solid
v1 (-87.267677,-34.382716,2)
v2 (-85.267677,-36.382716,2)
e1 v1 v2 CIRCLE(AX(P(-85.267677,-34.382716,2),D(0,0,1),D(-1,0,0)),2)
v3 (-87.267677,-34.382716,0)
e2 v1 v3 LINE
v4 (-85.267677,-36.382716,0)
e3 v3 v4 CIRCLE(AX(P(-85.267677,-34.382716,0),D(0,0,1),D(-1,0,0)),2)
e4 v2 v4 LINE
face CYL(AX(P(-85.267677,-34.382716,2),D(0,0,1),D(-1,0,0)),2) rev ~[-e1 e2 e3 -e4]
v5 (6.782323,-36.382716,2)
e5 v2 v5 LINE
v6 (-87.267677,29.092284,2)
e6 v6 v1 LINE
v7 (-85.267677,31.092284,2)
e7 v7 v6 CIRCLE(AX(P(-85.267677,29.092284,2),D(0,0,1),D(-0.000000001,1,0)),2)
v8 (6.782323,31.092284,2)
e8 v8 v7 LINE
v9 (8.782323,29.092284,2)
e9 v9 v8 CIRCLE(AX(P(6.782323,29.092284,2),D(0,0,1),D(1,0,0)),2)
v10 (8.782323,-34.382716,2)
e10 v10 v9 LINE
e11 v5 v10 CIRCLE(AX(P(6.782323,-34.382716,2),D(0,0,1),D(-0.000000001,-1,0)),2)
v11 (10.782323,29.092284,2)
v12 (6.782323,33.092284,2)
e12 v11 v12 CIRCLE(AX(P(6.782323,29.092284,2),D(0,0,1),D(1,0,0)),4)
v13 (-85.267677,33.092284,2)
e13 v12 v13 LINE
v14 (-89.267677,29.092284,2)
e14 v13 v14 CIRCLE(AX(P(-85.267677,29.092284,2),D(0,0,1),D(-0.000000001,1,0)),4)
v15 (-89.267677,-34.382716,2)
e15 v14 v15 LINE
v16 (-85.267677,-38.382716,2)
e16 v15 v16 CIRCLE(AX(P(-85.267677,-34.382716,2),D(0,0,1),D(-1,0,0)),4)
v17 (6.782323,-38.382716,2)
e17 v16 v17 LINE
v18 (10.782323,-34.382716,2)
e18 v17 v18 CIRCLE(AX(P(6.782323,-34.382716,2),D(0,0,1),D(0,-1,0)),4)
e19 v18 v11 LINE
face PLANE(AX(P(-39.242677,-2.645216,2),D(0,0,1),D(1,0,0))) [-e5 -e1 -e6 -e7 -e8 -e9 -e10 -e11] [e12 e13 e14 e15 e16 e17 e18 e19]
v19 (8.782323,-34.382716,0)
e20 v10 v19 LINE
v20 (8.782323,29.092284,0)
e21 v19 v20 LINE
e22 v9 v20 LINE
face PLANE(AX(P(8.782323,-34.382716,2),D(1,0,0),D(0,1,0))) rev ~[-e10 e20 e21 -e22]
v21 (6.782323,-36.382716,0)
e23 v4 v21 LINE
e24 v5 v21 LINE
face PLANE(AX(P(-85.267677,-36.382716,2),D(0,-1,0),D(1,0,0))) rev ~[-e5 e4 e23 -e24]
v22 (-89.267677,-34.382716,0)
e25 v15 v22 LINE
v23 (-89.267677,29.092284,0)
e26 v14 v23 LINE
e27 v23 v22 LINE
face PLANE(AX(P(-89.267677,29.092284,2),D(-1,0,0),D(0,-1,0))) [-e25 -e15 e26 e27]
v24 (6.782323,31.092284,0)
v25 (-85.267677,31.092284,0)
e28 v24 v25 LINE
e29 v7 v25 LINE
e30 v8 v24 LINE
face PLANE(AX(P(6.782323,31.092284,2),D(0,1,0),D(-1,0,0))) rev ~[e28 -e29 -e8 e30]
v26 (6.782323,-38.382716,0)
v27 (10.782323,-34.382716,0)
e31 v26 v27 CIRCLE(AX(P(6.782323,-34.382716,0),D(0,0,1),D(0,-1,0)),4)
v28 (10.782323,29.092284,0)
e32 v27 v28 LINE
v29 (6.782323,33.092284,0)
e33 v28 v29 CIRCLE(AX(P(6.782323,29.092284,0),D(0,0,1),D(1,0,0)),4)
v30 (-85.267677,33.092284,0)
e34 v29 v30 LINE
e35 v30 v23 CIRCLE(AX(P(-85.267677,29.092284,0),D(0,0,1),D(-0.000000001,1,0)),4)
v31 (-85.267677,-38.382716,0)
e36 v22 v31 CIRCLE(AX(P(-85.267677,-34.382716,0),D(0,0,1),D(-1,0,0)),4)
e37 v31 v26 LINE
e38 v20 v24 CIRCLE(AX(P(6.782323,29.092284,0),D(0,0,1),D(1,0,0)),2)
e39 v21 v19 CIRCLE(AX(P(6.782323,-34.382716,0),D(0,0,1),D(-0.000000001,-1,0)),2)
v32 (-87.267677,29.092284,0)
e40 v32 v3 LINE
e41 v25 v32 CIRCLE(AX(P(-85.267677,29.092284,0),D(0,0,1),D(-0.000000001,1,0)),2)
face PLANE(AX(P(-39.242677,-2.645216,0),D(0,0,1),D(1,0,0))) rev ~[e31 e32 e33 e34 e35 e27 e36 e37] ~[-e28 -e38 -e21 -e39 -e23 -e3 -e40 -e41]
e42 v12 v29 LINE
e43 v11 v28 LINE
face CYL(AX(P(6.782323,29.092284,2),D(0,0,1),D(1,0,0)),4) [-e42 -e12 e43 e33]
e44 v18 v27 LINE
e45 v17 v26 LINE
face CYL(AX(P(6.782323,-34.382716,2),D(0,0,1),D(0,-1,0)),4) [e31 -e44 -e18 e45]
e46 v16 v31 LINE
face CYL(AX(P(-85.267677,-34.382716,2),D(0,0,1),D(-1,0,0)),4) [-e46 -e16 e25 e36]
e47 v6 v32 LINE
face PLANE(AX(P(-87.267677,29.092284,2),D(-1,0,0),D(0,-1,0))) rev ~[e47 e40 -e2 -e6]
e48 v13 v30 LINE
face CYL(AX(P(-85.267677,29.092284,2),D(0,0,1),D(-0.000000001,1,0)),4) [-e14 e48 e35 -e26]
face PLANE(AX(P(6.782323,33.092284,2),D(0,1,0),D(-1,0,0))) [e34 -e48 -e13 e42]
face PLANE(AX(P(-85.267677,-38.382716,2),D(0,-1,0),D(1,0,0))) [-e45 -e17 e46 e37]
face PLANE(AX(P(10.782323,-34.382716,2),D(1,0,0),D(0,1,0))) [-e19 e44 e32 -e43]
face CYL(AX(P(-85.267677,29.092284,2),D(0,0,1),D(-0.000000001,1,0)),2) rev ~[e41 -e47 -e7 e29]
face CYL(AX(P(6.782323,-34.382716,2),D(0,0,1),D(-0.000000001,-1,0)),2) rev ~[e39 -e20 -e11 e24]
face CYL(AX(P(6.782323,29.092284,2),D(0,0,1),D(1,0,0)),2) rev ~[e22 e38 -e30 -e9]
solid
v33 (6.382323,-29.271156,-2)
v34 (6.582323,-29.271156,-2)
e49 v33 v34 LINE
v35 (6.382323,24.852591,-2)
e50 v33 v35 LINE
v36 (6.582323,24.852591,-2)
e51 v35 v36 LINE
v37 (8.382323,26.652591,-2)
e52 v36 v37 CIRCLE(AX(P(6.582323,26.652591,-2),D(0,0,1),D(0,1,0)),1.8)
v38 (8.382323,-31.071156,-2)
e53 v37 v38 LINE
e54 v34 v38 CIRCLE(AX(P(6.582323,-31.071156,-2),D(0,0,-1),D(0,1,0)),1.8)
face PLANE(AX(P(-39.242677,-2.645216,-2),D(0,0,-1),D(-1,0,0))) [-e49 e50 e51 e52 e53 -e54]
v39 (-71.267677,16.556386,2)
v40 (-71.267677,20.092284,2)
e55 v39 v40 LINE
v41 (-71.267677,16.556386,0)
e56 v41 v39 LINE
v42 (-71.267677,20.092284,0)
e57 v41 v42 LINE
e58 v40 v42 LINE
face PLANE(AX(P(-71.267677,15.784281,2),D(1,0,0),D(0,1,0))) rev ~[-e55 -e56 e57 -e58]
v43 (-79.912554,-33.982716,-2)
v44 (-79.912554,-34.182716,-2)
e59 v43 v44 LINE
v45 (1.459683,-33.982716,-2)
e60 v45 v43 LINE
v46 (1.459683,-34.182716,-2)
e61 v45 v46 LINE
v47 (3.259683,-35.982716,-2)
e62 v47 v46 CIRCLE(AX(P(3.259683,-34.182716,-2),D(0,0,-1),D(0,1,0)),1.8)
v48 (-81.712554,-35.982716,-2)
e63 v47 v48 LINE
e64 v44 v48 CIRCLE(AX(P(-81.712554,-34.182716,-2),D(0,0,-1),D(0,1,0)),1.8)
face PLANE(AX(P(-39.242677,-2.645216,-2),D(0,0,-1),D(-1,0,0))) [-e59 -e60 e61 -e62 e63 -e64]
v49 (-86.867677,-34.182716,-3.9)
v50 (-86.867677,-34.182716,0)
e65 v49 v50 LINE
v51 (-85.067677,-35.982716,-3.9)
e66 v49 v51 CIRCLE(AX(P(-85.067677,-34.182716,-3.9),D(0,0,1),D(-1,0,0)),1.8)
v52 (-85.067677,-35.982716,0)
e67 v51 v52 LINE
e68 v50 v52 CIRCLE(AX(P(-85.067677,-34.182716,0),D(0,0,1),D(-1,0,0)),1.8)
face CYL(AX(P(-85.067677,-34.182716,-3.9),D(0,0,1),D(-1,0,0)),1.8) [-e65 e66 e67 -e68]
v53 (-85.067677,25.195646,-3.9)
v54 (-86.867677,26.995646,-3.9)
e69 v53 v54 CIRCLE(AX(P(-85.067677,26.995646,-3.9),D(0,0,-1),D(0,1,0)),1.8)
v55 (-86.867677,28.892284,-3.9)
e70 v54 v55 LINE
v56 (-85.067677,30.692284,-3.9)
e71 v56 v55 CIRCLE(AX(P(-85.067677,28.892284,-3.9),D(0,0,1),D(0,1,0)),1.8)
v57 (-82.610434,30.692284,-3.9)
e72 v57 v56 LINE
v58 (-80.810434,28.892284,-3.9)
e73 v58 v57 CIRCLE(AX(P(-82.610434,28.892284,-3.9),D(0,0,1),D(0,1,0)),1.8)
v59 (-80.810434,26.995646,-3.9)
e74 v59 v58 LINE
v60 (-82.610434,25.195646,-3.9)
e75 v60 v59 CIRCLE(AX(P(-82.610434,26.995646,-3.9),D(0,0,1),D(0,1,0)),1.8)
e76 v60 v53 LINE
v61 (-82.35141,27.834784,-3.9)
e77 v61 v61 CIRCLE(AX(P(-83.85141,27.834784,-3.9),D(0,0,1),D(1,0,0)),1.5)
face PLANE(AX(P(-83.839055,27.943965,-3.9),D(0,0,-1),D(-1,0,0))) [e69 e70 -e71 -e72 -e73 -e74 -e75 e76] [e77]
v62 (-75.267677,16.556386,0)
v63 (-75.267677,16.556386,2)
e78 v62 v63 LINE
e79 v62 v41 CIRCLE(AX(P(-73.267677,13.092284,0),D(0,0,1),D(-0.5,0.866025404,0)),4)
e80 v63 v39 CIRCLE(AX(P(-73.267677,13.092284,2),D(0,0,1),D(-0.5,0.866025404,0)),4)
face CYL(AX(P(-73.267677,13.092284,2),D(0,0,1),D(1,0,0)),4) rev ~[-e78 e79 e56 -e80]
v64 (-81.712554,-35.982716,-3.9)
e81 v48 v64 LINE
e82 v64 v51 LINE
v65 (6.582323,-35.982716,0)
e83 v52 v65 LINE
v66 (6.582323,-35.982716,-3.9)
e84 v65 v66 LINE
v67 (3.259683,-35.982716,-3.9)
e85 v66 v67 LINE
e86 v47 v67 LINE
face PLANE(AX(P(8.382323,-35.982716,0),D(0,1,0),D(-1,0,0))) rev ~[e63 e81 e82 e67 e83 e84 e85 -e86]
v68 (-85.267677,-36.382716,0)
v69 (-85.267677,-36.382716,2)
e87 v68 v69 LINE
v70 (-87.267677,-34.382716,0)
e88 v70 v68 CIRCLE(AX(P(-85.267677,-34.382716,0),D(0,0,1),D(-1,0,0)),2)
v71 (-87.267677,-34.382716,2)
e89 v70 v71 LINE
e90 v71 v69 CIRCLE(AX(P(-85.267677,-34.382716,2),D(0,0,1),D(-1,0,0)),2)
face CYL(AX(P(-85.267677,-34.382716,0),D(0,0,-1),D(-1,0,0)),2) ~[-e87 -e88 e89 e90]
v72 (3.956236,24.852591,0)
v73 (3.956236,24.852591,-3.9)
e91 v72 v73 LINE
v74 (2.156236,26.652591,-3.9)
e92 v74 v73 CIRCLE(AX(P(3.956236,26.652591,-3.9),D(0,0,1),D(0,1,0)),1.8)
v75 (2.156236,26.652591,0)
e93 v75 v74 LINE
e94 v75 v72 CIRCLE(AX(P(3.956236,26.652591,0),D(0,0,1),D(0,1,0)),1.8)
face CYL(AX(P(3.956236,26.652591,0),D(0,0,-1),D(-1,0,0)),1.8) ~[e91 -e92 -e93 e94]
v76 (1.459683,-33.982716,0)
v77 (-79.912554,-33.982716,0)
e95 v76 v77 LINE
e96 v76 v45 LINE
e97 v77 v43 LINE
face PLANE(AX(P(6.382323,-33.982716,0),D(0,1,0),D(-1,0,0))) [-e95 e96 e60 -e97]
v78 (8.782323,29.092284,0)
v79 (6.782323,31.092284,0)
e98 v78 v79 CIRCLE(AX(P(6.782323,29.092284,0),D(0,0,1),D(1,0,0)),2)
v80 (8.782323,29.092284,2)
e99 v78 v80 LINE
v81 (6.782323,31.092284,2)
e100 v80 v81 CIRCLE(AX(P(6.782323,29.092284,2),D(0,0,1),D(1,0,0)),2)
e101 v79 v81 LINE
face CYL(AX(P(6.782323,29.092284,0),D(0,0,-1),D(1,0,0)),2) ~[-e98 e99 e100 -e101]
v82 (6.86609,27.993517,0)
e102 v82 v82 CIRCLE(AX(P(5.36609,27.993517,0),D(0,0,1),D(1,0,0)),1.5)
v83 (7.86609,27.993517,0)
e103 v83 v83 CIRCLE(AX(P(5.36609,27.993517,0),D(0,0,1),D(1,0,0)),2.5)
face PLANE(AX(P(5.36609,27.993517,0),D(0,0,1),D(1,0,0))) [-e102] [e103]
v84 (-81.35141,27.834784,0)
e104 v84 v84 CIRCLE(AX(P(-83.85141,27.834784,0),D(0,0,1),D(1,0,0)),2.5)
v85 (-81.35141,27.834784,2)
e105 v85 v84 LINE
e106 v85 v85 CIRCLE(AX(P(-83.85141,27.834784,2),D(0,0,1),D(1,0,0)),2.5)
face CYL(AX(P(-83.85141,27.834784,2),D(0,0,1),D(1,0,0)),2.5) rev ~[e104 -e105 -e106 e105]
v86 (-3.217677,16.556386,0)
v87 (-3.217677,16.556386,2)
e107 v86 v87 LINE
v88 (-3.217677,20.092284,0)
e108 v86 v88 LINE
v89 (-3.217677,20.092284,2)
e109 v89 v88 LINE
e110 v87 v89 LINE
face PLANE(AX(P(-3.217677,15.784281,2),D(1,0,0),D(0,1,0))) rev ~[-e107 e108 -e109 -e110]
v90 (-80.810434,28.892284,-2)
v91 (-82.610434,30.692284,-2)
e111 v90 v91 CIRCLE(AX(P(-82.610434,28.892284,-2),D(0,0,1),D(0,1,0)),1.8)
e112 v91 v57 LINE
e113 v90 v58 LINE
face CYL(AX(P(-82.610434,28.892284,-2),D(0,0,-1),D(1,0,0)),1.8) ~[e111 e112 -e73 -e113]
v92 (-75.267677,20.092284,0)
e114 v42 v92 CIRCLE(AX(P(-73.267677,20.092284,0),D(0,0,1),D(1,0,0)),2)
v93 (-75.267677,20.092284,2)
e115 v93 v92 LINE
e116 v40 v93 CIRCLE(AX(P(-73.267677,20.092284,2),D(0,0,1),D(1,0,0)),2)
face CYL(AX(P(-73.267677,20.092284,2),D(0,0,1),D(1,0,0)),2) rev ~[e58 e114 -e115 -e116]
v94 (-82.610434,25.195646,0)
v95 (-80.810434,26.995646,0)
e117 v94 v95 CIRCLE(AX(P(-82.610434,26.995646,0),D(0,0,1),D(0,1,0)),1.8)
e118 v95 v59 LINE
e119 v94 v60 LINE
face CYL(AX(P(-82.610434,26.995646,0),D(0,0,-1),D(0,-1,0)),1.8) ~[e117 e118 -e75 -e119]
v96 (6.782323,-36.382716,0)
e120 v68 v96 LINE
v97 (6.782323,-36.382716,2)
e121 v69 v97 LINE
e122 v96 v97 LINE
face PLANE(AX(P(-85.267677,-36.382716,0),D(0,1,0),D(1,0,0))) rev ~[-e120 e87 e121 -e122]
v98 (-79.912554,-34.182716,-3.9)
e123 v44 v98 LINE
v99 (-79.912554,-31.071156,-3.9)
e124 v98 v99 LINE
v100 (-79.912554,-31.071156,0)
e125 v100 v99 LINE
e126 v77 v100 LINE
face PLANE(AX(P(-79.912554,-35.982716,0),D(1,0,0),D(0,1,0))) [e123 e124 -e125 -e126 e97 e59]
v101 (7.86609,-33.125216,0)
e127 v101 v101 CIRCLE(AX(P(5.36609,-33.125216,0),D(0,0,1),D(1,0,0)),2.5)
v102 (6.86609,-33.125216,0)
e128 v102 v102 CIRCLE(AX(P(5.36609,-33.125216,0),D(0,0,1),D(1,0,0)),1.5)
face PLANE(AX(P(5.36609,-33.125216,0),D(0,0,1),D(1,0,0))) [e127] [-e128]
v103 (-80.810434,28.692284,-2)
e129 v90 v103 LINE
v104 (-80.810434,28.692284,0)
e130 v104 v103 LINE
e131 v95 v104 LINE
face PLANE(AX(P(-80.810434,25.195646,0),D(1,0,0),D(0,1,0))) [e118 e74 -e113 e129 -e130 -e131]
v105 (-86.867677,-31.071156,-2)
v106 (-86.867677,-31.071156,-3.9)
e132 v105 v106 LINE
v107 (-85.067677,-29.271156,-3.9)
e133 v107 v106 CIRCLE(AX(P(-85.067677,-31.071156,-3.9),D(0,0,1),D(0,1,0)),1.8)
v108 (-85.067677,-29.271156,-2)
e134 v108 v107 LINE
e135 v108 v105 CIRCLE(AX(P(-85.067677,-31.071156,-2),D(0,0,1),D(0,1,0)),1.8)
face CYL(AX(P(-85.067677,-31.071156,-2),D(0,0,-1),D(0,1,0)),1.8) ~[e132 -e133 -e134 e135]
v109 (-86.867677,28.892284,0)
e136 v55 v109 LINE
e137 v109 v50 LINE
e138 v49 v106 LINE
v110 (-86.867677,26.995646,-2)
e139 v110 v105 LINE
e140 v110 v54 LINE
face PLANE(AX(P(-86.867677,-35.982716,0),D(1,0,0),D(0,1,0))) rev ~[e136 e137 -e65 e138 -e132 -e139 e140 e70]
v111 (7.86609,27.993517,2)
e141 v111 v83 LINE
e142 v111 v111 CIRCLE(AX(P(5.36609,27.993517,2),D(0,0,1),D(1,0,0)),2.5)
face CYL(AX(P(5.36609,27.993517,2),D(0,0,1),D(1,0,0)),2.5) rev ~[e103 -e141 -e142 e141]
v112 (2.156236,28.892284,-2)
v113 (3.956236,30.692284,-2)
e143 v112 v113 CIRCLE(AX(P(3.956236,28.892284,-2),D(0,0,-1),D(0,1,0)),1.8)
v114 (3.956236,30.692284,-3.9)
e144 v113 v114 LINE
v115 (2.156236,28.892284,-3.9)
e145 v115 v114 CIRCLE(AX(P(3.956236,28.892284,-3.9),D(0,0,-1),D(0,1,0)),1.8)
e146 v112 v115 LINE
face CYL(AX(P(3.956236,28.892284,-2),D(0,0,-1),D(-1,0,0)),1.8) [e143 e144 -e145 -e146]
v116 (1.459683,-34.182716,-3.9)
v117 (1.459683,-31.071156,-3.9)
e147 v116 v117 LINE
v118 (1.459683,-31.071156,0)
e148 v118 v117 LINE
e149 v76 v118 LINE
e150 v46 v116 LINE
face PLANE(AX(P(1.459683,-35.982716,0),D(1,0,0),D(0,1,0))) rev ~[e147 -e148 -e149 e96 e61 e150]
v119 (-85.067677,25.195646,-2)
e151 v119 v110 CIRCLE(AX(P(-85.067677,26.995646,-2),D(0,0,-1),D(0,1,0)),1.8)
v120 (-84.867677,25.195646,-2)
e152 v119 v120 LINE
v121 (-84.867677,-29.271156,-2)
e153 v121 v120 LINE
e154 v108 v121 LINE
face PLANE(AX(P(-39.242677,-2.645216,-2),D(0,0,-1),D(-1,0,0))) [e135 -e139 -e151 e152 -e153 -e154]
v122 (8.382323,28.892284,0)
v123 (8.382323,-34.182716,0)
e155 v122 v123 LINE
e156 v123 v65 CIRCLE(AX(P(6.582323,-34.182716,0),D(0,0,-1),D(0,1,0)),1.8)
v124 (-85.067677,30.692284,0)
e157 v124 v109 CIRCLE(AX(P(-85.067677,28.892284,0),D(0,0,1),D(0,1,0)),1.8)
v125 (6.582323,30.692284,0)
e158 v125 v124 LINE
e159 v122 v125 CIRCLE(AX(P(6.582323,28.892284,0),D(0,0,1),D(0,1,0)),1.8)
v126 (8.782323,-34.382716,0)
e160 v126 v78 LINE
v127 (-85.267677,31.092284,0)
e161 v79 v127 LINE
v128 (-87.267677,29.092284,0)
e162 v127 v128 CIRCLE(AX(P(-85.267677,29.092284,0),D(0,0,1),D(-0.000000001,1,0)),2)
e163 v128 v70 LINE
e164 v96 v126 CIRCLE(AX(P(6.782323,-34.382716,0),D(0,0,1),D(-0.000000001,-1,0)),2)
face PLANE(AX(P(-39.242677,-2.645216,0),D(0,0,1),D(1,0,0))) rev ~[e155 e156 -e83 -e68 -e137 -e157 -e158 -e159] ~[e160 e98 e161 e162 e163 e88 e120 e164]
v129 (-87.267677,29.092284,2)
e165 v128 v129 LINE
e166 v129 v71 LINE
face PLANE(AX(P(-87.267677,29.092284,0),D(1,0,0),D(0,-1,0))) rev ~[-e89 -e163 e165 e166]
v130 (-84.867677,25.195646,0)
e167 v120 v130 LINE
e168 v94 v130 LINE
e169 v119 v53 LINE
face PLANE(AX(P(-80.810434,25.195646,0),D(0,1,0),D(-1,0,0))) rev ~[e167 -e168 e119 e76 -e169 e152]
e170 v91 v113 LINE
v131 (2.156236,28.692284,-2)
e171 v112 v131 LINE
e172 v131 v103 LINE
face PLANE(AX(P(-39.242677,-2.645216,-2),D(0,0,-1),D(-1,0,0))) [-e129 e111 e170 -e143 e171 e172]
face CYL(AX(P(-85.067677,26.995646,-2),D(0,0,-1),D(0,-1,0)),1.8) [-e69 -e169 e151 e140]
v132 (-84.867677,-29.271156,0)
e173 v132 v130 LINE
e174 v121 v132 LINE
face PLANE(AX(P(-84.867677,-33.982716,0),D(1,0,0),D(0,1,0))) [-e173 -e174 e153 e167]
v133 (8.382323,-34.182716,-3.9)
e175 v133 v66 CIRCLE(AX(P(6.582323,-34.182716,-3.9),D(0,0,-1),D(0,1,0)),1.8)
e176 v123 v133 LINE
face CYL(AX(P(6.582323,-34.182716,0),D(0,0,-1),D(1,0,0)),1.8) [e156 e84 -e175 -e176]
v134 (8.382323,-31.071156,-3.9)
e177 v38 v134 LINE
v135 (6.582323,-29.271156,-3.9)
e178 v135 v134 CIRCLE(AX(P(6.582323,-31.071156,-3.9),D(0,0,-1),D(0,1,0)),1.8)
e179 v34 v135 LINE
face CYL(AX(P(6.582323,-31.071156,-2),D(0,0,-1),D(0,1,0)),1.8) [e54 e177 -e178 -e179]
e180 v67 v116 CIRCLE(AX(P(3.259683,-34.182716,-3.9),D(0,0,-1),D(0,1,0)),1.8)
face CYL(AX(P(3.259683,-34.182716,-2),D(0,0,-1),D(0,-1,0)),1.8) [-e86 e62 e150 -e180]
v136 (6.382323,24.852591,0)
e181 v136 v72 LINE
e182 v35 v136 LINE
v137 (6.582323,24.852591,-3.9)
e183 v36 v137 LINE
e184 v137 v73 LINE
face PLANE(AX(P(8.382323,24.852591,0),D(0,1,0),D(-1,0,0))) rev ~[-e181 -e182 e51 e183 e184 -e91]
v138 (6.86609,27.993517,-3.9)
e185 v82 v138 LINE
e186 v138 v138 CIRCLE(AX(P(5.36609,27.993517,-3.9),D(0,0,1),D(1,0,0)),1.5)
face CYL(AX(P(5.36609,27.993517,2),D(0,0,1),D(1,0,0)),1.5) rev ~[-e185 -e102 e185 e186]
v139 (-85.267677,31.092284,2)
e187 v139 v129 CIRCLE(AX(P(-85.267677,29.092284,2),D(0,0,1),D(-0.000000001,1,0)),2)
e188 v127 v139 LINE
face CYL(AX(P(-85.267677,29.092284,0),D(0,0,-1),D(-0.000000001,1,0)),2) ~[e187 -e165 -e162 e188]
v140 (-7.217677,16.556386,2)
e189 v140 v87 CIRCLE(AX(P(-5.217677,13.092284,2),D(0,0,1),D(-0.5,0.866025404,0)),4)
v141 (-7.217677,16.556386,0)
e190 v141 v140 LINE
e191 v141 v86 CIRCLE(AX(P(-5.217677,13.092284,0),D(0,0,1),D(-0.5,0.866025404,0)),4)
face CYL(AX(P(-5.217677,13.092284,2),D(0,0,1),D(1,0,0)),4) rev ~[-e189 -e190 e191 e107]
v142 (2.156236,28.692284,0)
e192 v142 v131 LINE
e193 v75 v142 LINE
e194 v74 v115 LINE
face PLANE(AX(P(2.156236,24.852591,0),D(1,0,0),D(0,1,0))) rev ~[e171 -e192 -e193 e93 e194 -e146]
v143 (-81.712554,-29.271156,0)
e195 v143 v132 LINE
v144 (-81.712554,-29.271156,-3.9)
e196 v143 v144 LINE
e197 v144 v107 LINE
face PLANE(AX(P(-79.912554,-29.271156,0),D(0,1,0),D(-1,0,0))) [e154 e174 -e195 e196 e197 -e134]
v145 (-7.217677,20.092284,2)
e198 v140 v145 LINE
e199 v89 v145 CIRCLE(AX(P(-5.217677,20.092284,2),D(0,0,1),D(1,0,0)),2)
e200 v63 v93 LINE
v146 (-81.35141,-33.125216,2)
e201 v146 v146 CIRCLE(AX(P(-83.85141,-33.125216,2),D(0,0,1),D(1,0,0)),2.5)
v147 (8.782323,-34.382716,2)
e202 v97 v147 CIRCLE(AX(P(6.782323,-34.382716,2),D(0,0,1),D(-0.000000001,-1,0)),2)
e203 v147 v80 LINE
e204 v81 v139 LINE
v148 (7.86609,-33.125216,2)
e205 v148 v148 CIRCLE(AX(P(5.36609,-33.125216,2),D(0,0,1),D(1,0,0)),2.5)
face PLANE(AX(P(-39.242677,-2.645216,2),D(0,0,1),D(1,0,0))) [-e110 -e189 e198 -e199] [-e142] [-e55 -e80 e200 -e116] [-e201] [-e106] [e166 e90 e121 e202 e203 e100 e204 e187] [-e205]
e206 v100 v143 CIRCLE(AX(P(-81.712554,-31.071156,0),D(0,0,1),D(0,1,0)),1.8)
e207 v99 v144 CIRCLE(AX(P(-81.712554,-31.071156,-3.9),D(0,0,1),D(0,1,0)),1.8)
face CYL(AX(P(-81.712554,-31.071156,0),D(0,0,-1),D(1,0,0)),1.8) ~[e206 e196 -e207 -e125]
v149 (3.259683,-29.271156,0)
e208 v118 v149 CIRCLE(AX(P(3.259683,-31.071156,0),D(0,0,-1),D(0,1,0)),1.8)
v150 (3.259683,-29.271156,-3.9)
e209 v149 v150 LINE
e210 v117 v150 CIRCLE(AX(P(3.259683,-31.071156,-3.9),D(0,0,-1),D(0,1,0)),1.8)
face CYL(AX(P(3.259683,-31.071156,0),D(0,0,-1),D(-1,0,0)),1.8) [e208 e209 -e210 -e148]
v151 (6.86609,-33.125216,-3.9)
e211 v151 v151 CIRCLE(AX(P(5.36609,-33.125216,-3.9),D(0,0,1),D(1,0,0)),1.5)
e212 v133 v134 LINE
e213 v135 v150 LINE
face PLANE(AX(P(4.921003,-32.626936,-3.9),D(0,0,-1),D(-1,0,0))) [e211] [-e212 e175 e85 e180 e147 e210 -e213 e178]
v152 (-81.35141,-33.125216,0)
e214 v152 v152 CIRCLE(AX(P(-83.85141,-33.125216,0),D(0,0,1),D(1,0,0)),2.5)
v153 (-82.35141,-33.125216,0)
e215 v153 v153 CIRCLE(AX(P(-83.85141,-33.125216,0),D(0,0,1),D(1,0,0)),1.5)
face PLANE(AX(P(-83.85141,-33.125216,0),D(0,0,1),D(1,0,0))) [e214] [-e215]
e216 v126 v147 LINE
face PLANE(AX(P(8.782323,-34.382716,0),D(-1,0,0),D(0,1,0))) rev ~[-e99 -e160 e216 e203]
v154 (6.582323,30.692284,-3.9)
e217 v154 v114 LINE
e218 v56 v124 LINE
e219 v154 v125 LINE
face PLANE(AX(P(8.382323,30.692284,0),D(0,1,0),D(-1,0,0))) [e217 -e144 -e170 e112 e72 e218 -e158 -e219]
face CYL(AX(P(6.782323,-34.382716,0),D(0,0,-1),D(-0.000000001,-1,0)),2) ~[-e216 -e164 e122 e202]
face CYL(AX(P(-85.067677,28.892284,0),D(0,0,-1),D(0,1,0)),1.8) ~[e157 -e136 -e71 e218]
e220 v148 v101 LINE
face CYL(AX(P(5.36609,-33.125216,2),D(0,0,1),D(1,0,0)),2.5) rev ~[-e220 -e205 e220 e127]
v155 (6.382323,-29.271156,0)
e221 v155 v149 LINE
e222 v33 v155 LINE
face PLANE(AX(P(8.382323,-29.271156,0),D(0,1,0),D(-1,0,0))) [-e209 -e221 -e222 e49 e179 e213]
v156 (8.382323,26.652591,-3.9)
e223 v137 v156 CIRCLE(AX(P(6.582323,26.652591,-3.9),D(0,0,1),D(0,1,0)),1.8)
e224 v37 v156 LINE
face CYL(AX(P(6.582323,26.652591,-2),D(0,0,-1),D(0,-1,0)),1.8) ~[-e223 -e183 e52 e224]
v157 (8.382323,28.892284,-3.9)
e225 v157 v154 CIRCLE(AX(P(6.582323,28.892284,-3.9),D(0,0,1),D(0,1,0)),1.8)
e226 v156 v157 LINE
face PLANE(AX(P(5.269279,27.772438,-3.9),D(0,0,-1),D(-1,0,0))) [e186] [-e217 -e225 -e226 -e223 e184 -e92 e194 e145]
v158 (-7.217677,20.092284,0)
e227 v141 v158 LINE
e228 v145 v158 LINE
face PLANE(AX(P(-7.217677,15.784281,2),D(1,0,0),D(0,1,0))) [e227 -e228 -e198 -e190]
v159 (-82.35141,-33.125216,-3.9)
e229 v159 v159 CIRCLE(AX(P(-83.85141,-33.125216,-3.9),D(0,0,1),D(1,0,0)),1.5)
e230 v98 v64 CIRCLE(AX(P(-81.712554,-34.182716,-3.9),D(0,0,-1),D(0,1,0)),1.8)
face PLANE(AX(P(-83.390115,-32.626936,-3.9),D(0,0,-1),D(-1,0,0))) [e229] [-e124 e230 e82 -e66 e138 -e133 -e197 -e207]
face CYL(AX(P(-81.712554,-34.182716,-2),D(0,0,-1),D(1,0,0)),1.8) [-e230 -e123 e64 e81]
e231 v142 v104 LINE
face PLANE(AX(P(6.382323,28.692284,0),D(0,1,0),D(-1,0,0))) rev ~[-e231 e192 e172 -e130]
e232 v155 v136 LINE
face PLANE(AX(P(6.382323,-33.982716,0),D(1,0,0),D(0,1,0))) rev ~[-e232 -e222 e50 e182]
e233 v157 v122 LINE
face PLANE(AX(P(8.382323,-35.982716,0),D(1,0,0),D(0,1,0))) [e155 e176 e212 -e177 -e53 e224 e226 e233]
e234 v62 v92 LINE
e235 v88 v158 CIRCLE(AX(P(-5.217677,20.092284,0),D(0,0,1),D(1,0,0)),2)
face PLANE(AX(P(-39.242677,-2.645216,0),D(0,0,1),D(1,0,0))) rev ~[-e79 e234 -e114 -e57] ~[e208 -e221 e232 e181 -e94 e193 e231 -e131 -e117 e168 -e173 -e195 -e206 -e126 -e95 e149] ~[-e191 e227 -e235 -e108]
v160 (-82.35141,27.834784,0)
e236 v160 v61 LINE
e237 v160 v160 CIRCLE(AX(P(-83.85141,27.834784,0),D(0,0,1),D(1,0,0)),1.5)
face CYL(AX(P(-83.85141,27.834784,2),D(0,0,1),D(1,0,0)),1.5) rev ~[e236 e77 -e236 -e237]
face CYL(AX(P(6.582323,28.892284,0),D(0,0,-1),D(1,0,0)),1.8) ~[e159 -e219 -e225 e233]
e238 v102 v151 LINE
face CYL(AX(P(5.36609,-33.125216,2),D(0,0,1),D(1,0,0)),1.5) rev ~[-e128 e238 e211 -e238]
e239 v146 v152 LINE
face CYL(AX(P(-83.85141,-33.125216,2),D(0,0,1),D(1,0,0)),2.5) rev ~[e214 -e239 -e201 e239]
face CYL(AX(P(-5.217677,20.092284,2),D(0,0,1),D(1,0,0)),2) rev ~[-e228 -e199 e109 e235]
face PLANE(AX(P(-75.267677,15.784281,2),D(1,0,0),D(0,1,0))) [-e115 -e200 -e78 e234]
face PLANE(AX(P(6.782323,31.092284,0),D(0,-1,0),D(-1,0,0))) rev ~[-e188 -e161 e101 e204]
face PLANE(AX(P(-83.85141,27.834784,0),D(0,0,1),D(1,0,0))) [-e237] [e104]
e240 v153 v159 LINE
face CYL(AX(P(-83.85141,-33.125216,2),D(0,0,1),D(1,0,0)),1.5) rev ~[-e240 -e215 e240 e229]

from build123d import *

# Parameters (mm, degrees)
AUFSATZ_LINEAR_AUSTRAGEN1_DEPTH      = 2
SKIZZE4_W                            = 95.25
SKIZZE4_H                            = 66.675
SKIZZE4_W_2                          = 91.25
SKIZZE4_H_2                          = 62.675
LINEAR_AUSTRAGEN_D_NN1_DEPTH         = 2
SKIZZE6_W                            = 6.226087216
SKIZZE6_H                            = 5.839692789
SKIZZE6_W_2                          = 6.057243249
SKIZZE6_H_2                          = 5.496638274
SKIZZE6_W_3                          = 6.955123198
SKIZZE6_H_3                          = 6.71155976
SKIZZE6_W_4                          = 6.922640051
AUFSATZ_LINEAR_AUSTRAGEN2_DEPTH      = 3.9
VERRUNDUNG2_R                        = 1.8
VERRUNDUNG3_R                        = 1.8
VERRUNDUNG4_R                        = 1.8
SKIZZE7_R                            = 1.5
SCHNITT_LINEAR_AUSTRAGEN1_DEPTH      = 6
SKIZZE8_R                            = 2.5
SCHNITT_LINEAR_AUSTRAGEN2_DEPTH      = 2
SKIZZE9_R                            = 4
SCHNITT_LINEAR_AUSTRAGEN3_DEPTH      = 2
SKIZZE10_R                           = 2
SCHNITT_LINEAR_AUSTRAGEN5_DEPTH      = 2
SKIZZE11_W                           = 4
SKIZZE11_H                           = 4.308003348
SCHNITT_LINEAR_AUSTRAGEN6_DEPTH      = 2
SCHNITT_LINEAR_AUSTRAGEN_D_NN1_START = -2
SCHNITT_LINEAR_AUSTRAGEN_D_NN1_DEPTH = 2
LINEAR_AUSTRAGEN_D_NN2_DEPTH         = 2


with BuildPart() as part:
    # Skizze3 → Aufsatz-Linear austragen1 (new body)
    with BuildSketch(Plane.XY):
        with BuildLine():
            Line((-89.26767695, 29.092284131), (-89.26767695, -34.382715869))
            ThreePointArc((-89.26767695, -34.382715869), (-88.096104074, -37.211142994), (-85.26767695, -38.382715869))
            Line((-85.26767695, -38.382715869), (6.78232305, -38.382715869))
            ThreePointArc((6.78232305, -38.382715869), (9.610750175, -37.211142994), (10.78232305, -34.382715869))
            Line((10.78232305, -34.382715869), (10.78232305, 29.092284131))
            ThreePointArc((10.78232305, 29.092284131), (9.610750175, 31.920711255), (6.78232305, 33.092284131))
            Line((6.78232305, 33.092284131), (-85.26767695, 33.092284131))
            ThreePointArc((-85.26767695, 33.092284131), (-88.096104074, 31.920711255), (-89.26767695, 29.092284131))
        make_face()
    extrude(amount=AUFSATZ_LINEAR_AUSTRAGEN1_DEPTH)

    # Skizze4 → Linear-Austragen-Dünn1 (add)
    with BuildSketch(Plane(origin=(0, 0, 0), x_dir=(-1, 0, 0), z_dir=(0, 0, -1))):
        with Locations((39.24267695, -2.645215869)):
            Rectangle(SKIZZE4_W, SKIZZE4_H)
        with Locations((39.24267695, -2.645215869)):
            Rectangle(SKIZZE4_W_2, SKIZZE4_H_2, mode=Mode.SUBTRACT)
    extrude(amount=LINEAR_AUSTRAGEN_D_NN1_DEPTH)

    # Skizze6 → Aufsatz-Linear austragen2 (add)
    with BuildSketch(Plane(origin=(0, 0, 0), x_dir=(-1, 0, 0), z_dir=(0, 0, -1))):
        with Locations((-5.269279442, 27.772437737)):
            Rectangle(SKIZZE6_W, SKIZZE6_H)
        with Locations((83.839055325, 27.943964994)):
            Rectangle(SKIZZE6_W_2, SKIZZE6_H_2)
        with Locations((83.390115351, -32.626935989)):
            Rectangle(SKIZZE6_W_3, SKIZZE6_H_3)
        with Locations((-4.921003025, -32.626935989)):
            Rectangle(SKIZZE6_W_4, SKIZZE6_H_3)
    extrude(amount=AUFSATZ_LINEAR_AUSTRAGEN2_DEPTH)

    # Verrundung2
    verrundung2_edges = [part.edges().sort_by_distance(p)[0] for p in [
        (8.38232305, 30.692284131, -1.95),
        (8.38232305, -35.982715869, -1.95),
        (-86.86767695, -35.982715869, -1.95),
        (-86.86767695, 30.692284131, -1.95),
    ]]
    fillet(verrundung2_edges, radius=VERRUNDUNG2_R)

    # Verrundung3
    verrundung3_edges = [part.edges().sort_by_distance(p)[0] for p in [
        (-79.912553752, -29.271156109, -1.95),
        (1.459682999, -29.271156109, -1.95),
        (2.156235834, 24.852591342, -1.95),
        (-80.810433701, 25.195645857, -1.95),
    ]]
    fillet(verrundung3_edges, radius=VERRUNDUNG3_R)

    # Verrundung4
    verrundung4_edges = [part.edges().sort_by_distance(p)[0] for p in [
        (-86.86767695, -29.271156109, -2.95),
        (-79.912553752, -35.982715869, -2.95),
        (8.38232305, -29.271156109, -2.95),
        (1.459682999, -35.982715869, -2.95),
        (8.38232305, 24.852591342, -2.95),
        (2.156235834, 30.692284131, -2.95),
        (-86.86767695, 25.195645857, -2.95),
        (-80.810433701, 30.692284131, -2.95),
    ]]
    fillet(verrundung4_edges, radius=VERRUNDUNG4_R)

    # Skizze7 → Schnitt-Linear austragen1 (cut)
    with BuildSketch(Plane.XY.offset(2)):
        with Locations((-83.851410283, 27.834784131)):
            Circle(SKIZZE7_R)
        with Locations((5.366089717, 27.993517464)):
            Circle(SKIZZE7_R)
        with Locations((-83.851410283, -33.125215869)):
            Circle(SKIZZE7_R)
        with Locations((5.366089717, -33.125215869)):
            Circle(SKIZZE7_R)
    extrude(amount=-SCHNITT_LINEAR_AUSTRAGEN1_DEPTH, mode=Mode.SUBTRACT)

    # Skizze8 → Schnitt-Linear austragen2 (cut)
    with BuildSketch(Plane.XY.offset(2)):
        with Locations((-83.851410283, 27.834784131)):
            Circle(SKIZZE8_R)
        with Locations((-83.851410283, -33.125215869)):
            Circle(SKIZZE8_R)
        with Locations((5.366089717, -33.125215869)):
            Circle(SKIZZE8_R)
        with Locations((5.366089717, 27.993517464)):
            Circle(SKIZZE8_R)
    extrude(amount=-SCHNITT_LINEAR_AUSTRAGEN2_DEPTH, mode=Mode.SUBTRACT)

    # Skizze9 → Schnitt-Linear austragen3 (cut)
    with BuildSketch(Plane.XY.offset(2)):
        with Locations((-73.26767695, 13.092284131)):
            Circle(SKIZZE9_R)
        with Locations((-5.21767695, 13.092284131)):
            Circle(SKIZZE9_R)
    extrude(amount=-SCHNITT_LINEAR_AUSTRAGEN3_DEPTH, mode=Mode.SUBTRACT)

    # Skizze10 → Schnitt-Linear austragen5 (cut)
    with BuildSketch(Plane.XY.offset(2)):
        with Locations((-73.26767695, 20.092284131)):
            Circle(SKIZZE10_R)
        with Locations((-5.21767695, 20.092284131)):
            Circle(SKIZZE10_R)
    extrude(amount=-SCHNITT_LINEAR_AUSTRAGEN5_DEPTH, mode=Mode.SUBTRACT)

    # Skizze11 → Schnitt-Linear austragen6 (cut)
    with BuildSketch(Plane.XY.offset(2)):
        with Locations((-73.26767695, 17.938282457)):
            Rectangle(SKIZZE11_W, SKIZZE11_H)
        with Locations((-5.21767695, 17.938282457)):
            Rectangle(SKIZZE11_W, SKIZZE11_H)
    extrude(amount=-SCHNITT_LINEAR_AUSTRAGEN6_DEPTH, mode=Mode.SUBTRACT)

    # Skizze12 → Schnitt-Linear-Austragen-Dünn1 (cut)
    with BuildSketch(Plane.XY.offset(2).offset(SCHNITT_LINEAR_AUSTRAGEN_D_NN1_START)):
        with BuildLine():
            Line((6.78232305, 33.092284131), (-85.26767695, 33.092284131))
            ThreePointArc((-85.26767695, 33.092284131), (-88.096104074, 31.920711255), (-89.26767695, 29.092284131))
            Line((-89.26767695, 29.092284131), (-89.26767695, -34.382715869))
            ThreePointArc((-89.26767695, -34.382715869), (-88.096104074, -37.211142994), (-85.26767695, -38.382715869))
            Line((-85.26767695, -38.382715869), (6.78232305, -38.382715869))
            ThreePointArc((6.78232305, -38.382715869), (9.610750175, -37.211142994), (10.78232305, -34.382715869))
            Line((10.78232305, -34.382715869), (10.78232305, 29.092284131))
            ThreePointArc((10.78232305, 29.092284131), (9.610750175, 31.920711255), (6.78232305, 33.092284131))
        make_face()
        with BuildLine():
            Line((6.78232305, 31.092284131), (-85.26767695, 31.092284131))
            ThreePointArc((-85.26767695, 31.092284131), (-86.681890512, 30.506497693), (-87.26767695, 29.092284131))
            Line((-87.26767695, 29.092284131), (-87.26767695, -34.382715869))
            ThreePointArc((-87.26767695, -34.382715869), (-86.681890512, -35.796929432), (-85.26767695, -36.382715869))
            Line((-85.26767695, -36.382715869), (6.78232305, -36.382715869))
            ThreePointArc((6.78232305, -36.382715869), (8.196536613, -35.796929432), (8.78232305, -34.382715869))
            Line((8.78232305, -34.382715869), (8.78232305, 29.092284131))
            ThreePointArc((8.78232305, 29.092284131), (8.196536613, 30.506497693), (6.78232305, 31.092284131))
        make_face(mode=Mode.SUBTRACT)
    extrude(amount=SCHNITT_LINEAR_AUSTRAGEN_D_NN1_DEPTH, mode=Mode.SUBTRACT)


with BuildPart() as body_2:
    # Skizze12<2> → Linear-Austragen-Dünn2 (new body)
    with BuildSketch(Plane.XY.offset(2)):
        with BuildLine():
            Line((6.78232305, 33.092284131), (-85.26767695, 33.092284131))
            ThreePointArc((-85.26767695, 33.092284131), (-88.096104074, 31.920711255), (-89.26767695, 29.092284131))
            Line((-89.26767695, 29.092284131), (-89.26767695, -34.382715869))
            ThreePointArc((-89.26767695, -34.382715869), (-88.096104074, -37.211142994), (-85.26767695, -38.382715869))
            Line((-85.26767695, -38.382715869), (6.78232305, -38.382715869))
            ThreePointArc((6.78232305, -38.382715869), (9.610750175, -37.211142994), (10.78232305, -34.382715869))
            Line((10.78232305, -34.382715869), (10.78232305, 29.092284131))
            ThreePointArc((10.78232305, 29.092284131), (9.610750175, 31.920711255), (6.78232305, 33.092284131))
        make_face()
        with BuildLine():
            Line((6.78232305, 31.092284131), (-85.26767695, 31.092284131))
            ThreePointArc((-85.26767695, 31.092284131), (-86.681890512, 30.506497693), (-87.26767695, 29.092284131))
            Line((-87.26767695, 29.092284131), (-87.26767695, -34.382715869))
            ThreePointArc((-87.26767695, -34.382715869), (-86.681890512, -35.796929432), (-85.26767695, -36.382715869))
            Line((-85.26767695, -36.382715869), (6.78232305, -36.382715869))
            ThreePointArc((6.78232305, -36.382715869), (8.196536613, -35.796929432), (8.78232305, -34.382715869))
            Line((8.78232305, -34.382715869), (8.78232305, 29.092284131))
            ThreePointArc((8.78232305, 29.092284131), (8.196536613, 30.506497693), (6.78232305, 31.092284131))
        make_face(mode=Mode.SUBTRACT)
    extrude(amount=-LINEAR_AUSTRAGEN_D_NN2_DEPTH)


solid = Compound([part.part, body_2.part])
